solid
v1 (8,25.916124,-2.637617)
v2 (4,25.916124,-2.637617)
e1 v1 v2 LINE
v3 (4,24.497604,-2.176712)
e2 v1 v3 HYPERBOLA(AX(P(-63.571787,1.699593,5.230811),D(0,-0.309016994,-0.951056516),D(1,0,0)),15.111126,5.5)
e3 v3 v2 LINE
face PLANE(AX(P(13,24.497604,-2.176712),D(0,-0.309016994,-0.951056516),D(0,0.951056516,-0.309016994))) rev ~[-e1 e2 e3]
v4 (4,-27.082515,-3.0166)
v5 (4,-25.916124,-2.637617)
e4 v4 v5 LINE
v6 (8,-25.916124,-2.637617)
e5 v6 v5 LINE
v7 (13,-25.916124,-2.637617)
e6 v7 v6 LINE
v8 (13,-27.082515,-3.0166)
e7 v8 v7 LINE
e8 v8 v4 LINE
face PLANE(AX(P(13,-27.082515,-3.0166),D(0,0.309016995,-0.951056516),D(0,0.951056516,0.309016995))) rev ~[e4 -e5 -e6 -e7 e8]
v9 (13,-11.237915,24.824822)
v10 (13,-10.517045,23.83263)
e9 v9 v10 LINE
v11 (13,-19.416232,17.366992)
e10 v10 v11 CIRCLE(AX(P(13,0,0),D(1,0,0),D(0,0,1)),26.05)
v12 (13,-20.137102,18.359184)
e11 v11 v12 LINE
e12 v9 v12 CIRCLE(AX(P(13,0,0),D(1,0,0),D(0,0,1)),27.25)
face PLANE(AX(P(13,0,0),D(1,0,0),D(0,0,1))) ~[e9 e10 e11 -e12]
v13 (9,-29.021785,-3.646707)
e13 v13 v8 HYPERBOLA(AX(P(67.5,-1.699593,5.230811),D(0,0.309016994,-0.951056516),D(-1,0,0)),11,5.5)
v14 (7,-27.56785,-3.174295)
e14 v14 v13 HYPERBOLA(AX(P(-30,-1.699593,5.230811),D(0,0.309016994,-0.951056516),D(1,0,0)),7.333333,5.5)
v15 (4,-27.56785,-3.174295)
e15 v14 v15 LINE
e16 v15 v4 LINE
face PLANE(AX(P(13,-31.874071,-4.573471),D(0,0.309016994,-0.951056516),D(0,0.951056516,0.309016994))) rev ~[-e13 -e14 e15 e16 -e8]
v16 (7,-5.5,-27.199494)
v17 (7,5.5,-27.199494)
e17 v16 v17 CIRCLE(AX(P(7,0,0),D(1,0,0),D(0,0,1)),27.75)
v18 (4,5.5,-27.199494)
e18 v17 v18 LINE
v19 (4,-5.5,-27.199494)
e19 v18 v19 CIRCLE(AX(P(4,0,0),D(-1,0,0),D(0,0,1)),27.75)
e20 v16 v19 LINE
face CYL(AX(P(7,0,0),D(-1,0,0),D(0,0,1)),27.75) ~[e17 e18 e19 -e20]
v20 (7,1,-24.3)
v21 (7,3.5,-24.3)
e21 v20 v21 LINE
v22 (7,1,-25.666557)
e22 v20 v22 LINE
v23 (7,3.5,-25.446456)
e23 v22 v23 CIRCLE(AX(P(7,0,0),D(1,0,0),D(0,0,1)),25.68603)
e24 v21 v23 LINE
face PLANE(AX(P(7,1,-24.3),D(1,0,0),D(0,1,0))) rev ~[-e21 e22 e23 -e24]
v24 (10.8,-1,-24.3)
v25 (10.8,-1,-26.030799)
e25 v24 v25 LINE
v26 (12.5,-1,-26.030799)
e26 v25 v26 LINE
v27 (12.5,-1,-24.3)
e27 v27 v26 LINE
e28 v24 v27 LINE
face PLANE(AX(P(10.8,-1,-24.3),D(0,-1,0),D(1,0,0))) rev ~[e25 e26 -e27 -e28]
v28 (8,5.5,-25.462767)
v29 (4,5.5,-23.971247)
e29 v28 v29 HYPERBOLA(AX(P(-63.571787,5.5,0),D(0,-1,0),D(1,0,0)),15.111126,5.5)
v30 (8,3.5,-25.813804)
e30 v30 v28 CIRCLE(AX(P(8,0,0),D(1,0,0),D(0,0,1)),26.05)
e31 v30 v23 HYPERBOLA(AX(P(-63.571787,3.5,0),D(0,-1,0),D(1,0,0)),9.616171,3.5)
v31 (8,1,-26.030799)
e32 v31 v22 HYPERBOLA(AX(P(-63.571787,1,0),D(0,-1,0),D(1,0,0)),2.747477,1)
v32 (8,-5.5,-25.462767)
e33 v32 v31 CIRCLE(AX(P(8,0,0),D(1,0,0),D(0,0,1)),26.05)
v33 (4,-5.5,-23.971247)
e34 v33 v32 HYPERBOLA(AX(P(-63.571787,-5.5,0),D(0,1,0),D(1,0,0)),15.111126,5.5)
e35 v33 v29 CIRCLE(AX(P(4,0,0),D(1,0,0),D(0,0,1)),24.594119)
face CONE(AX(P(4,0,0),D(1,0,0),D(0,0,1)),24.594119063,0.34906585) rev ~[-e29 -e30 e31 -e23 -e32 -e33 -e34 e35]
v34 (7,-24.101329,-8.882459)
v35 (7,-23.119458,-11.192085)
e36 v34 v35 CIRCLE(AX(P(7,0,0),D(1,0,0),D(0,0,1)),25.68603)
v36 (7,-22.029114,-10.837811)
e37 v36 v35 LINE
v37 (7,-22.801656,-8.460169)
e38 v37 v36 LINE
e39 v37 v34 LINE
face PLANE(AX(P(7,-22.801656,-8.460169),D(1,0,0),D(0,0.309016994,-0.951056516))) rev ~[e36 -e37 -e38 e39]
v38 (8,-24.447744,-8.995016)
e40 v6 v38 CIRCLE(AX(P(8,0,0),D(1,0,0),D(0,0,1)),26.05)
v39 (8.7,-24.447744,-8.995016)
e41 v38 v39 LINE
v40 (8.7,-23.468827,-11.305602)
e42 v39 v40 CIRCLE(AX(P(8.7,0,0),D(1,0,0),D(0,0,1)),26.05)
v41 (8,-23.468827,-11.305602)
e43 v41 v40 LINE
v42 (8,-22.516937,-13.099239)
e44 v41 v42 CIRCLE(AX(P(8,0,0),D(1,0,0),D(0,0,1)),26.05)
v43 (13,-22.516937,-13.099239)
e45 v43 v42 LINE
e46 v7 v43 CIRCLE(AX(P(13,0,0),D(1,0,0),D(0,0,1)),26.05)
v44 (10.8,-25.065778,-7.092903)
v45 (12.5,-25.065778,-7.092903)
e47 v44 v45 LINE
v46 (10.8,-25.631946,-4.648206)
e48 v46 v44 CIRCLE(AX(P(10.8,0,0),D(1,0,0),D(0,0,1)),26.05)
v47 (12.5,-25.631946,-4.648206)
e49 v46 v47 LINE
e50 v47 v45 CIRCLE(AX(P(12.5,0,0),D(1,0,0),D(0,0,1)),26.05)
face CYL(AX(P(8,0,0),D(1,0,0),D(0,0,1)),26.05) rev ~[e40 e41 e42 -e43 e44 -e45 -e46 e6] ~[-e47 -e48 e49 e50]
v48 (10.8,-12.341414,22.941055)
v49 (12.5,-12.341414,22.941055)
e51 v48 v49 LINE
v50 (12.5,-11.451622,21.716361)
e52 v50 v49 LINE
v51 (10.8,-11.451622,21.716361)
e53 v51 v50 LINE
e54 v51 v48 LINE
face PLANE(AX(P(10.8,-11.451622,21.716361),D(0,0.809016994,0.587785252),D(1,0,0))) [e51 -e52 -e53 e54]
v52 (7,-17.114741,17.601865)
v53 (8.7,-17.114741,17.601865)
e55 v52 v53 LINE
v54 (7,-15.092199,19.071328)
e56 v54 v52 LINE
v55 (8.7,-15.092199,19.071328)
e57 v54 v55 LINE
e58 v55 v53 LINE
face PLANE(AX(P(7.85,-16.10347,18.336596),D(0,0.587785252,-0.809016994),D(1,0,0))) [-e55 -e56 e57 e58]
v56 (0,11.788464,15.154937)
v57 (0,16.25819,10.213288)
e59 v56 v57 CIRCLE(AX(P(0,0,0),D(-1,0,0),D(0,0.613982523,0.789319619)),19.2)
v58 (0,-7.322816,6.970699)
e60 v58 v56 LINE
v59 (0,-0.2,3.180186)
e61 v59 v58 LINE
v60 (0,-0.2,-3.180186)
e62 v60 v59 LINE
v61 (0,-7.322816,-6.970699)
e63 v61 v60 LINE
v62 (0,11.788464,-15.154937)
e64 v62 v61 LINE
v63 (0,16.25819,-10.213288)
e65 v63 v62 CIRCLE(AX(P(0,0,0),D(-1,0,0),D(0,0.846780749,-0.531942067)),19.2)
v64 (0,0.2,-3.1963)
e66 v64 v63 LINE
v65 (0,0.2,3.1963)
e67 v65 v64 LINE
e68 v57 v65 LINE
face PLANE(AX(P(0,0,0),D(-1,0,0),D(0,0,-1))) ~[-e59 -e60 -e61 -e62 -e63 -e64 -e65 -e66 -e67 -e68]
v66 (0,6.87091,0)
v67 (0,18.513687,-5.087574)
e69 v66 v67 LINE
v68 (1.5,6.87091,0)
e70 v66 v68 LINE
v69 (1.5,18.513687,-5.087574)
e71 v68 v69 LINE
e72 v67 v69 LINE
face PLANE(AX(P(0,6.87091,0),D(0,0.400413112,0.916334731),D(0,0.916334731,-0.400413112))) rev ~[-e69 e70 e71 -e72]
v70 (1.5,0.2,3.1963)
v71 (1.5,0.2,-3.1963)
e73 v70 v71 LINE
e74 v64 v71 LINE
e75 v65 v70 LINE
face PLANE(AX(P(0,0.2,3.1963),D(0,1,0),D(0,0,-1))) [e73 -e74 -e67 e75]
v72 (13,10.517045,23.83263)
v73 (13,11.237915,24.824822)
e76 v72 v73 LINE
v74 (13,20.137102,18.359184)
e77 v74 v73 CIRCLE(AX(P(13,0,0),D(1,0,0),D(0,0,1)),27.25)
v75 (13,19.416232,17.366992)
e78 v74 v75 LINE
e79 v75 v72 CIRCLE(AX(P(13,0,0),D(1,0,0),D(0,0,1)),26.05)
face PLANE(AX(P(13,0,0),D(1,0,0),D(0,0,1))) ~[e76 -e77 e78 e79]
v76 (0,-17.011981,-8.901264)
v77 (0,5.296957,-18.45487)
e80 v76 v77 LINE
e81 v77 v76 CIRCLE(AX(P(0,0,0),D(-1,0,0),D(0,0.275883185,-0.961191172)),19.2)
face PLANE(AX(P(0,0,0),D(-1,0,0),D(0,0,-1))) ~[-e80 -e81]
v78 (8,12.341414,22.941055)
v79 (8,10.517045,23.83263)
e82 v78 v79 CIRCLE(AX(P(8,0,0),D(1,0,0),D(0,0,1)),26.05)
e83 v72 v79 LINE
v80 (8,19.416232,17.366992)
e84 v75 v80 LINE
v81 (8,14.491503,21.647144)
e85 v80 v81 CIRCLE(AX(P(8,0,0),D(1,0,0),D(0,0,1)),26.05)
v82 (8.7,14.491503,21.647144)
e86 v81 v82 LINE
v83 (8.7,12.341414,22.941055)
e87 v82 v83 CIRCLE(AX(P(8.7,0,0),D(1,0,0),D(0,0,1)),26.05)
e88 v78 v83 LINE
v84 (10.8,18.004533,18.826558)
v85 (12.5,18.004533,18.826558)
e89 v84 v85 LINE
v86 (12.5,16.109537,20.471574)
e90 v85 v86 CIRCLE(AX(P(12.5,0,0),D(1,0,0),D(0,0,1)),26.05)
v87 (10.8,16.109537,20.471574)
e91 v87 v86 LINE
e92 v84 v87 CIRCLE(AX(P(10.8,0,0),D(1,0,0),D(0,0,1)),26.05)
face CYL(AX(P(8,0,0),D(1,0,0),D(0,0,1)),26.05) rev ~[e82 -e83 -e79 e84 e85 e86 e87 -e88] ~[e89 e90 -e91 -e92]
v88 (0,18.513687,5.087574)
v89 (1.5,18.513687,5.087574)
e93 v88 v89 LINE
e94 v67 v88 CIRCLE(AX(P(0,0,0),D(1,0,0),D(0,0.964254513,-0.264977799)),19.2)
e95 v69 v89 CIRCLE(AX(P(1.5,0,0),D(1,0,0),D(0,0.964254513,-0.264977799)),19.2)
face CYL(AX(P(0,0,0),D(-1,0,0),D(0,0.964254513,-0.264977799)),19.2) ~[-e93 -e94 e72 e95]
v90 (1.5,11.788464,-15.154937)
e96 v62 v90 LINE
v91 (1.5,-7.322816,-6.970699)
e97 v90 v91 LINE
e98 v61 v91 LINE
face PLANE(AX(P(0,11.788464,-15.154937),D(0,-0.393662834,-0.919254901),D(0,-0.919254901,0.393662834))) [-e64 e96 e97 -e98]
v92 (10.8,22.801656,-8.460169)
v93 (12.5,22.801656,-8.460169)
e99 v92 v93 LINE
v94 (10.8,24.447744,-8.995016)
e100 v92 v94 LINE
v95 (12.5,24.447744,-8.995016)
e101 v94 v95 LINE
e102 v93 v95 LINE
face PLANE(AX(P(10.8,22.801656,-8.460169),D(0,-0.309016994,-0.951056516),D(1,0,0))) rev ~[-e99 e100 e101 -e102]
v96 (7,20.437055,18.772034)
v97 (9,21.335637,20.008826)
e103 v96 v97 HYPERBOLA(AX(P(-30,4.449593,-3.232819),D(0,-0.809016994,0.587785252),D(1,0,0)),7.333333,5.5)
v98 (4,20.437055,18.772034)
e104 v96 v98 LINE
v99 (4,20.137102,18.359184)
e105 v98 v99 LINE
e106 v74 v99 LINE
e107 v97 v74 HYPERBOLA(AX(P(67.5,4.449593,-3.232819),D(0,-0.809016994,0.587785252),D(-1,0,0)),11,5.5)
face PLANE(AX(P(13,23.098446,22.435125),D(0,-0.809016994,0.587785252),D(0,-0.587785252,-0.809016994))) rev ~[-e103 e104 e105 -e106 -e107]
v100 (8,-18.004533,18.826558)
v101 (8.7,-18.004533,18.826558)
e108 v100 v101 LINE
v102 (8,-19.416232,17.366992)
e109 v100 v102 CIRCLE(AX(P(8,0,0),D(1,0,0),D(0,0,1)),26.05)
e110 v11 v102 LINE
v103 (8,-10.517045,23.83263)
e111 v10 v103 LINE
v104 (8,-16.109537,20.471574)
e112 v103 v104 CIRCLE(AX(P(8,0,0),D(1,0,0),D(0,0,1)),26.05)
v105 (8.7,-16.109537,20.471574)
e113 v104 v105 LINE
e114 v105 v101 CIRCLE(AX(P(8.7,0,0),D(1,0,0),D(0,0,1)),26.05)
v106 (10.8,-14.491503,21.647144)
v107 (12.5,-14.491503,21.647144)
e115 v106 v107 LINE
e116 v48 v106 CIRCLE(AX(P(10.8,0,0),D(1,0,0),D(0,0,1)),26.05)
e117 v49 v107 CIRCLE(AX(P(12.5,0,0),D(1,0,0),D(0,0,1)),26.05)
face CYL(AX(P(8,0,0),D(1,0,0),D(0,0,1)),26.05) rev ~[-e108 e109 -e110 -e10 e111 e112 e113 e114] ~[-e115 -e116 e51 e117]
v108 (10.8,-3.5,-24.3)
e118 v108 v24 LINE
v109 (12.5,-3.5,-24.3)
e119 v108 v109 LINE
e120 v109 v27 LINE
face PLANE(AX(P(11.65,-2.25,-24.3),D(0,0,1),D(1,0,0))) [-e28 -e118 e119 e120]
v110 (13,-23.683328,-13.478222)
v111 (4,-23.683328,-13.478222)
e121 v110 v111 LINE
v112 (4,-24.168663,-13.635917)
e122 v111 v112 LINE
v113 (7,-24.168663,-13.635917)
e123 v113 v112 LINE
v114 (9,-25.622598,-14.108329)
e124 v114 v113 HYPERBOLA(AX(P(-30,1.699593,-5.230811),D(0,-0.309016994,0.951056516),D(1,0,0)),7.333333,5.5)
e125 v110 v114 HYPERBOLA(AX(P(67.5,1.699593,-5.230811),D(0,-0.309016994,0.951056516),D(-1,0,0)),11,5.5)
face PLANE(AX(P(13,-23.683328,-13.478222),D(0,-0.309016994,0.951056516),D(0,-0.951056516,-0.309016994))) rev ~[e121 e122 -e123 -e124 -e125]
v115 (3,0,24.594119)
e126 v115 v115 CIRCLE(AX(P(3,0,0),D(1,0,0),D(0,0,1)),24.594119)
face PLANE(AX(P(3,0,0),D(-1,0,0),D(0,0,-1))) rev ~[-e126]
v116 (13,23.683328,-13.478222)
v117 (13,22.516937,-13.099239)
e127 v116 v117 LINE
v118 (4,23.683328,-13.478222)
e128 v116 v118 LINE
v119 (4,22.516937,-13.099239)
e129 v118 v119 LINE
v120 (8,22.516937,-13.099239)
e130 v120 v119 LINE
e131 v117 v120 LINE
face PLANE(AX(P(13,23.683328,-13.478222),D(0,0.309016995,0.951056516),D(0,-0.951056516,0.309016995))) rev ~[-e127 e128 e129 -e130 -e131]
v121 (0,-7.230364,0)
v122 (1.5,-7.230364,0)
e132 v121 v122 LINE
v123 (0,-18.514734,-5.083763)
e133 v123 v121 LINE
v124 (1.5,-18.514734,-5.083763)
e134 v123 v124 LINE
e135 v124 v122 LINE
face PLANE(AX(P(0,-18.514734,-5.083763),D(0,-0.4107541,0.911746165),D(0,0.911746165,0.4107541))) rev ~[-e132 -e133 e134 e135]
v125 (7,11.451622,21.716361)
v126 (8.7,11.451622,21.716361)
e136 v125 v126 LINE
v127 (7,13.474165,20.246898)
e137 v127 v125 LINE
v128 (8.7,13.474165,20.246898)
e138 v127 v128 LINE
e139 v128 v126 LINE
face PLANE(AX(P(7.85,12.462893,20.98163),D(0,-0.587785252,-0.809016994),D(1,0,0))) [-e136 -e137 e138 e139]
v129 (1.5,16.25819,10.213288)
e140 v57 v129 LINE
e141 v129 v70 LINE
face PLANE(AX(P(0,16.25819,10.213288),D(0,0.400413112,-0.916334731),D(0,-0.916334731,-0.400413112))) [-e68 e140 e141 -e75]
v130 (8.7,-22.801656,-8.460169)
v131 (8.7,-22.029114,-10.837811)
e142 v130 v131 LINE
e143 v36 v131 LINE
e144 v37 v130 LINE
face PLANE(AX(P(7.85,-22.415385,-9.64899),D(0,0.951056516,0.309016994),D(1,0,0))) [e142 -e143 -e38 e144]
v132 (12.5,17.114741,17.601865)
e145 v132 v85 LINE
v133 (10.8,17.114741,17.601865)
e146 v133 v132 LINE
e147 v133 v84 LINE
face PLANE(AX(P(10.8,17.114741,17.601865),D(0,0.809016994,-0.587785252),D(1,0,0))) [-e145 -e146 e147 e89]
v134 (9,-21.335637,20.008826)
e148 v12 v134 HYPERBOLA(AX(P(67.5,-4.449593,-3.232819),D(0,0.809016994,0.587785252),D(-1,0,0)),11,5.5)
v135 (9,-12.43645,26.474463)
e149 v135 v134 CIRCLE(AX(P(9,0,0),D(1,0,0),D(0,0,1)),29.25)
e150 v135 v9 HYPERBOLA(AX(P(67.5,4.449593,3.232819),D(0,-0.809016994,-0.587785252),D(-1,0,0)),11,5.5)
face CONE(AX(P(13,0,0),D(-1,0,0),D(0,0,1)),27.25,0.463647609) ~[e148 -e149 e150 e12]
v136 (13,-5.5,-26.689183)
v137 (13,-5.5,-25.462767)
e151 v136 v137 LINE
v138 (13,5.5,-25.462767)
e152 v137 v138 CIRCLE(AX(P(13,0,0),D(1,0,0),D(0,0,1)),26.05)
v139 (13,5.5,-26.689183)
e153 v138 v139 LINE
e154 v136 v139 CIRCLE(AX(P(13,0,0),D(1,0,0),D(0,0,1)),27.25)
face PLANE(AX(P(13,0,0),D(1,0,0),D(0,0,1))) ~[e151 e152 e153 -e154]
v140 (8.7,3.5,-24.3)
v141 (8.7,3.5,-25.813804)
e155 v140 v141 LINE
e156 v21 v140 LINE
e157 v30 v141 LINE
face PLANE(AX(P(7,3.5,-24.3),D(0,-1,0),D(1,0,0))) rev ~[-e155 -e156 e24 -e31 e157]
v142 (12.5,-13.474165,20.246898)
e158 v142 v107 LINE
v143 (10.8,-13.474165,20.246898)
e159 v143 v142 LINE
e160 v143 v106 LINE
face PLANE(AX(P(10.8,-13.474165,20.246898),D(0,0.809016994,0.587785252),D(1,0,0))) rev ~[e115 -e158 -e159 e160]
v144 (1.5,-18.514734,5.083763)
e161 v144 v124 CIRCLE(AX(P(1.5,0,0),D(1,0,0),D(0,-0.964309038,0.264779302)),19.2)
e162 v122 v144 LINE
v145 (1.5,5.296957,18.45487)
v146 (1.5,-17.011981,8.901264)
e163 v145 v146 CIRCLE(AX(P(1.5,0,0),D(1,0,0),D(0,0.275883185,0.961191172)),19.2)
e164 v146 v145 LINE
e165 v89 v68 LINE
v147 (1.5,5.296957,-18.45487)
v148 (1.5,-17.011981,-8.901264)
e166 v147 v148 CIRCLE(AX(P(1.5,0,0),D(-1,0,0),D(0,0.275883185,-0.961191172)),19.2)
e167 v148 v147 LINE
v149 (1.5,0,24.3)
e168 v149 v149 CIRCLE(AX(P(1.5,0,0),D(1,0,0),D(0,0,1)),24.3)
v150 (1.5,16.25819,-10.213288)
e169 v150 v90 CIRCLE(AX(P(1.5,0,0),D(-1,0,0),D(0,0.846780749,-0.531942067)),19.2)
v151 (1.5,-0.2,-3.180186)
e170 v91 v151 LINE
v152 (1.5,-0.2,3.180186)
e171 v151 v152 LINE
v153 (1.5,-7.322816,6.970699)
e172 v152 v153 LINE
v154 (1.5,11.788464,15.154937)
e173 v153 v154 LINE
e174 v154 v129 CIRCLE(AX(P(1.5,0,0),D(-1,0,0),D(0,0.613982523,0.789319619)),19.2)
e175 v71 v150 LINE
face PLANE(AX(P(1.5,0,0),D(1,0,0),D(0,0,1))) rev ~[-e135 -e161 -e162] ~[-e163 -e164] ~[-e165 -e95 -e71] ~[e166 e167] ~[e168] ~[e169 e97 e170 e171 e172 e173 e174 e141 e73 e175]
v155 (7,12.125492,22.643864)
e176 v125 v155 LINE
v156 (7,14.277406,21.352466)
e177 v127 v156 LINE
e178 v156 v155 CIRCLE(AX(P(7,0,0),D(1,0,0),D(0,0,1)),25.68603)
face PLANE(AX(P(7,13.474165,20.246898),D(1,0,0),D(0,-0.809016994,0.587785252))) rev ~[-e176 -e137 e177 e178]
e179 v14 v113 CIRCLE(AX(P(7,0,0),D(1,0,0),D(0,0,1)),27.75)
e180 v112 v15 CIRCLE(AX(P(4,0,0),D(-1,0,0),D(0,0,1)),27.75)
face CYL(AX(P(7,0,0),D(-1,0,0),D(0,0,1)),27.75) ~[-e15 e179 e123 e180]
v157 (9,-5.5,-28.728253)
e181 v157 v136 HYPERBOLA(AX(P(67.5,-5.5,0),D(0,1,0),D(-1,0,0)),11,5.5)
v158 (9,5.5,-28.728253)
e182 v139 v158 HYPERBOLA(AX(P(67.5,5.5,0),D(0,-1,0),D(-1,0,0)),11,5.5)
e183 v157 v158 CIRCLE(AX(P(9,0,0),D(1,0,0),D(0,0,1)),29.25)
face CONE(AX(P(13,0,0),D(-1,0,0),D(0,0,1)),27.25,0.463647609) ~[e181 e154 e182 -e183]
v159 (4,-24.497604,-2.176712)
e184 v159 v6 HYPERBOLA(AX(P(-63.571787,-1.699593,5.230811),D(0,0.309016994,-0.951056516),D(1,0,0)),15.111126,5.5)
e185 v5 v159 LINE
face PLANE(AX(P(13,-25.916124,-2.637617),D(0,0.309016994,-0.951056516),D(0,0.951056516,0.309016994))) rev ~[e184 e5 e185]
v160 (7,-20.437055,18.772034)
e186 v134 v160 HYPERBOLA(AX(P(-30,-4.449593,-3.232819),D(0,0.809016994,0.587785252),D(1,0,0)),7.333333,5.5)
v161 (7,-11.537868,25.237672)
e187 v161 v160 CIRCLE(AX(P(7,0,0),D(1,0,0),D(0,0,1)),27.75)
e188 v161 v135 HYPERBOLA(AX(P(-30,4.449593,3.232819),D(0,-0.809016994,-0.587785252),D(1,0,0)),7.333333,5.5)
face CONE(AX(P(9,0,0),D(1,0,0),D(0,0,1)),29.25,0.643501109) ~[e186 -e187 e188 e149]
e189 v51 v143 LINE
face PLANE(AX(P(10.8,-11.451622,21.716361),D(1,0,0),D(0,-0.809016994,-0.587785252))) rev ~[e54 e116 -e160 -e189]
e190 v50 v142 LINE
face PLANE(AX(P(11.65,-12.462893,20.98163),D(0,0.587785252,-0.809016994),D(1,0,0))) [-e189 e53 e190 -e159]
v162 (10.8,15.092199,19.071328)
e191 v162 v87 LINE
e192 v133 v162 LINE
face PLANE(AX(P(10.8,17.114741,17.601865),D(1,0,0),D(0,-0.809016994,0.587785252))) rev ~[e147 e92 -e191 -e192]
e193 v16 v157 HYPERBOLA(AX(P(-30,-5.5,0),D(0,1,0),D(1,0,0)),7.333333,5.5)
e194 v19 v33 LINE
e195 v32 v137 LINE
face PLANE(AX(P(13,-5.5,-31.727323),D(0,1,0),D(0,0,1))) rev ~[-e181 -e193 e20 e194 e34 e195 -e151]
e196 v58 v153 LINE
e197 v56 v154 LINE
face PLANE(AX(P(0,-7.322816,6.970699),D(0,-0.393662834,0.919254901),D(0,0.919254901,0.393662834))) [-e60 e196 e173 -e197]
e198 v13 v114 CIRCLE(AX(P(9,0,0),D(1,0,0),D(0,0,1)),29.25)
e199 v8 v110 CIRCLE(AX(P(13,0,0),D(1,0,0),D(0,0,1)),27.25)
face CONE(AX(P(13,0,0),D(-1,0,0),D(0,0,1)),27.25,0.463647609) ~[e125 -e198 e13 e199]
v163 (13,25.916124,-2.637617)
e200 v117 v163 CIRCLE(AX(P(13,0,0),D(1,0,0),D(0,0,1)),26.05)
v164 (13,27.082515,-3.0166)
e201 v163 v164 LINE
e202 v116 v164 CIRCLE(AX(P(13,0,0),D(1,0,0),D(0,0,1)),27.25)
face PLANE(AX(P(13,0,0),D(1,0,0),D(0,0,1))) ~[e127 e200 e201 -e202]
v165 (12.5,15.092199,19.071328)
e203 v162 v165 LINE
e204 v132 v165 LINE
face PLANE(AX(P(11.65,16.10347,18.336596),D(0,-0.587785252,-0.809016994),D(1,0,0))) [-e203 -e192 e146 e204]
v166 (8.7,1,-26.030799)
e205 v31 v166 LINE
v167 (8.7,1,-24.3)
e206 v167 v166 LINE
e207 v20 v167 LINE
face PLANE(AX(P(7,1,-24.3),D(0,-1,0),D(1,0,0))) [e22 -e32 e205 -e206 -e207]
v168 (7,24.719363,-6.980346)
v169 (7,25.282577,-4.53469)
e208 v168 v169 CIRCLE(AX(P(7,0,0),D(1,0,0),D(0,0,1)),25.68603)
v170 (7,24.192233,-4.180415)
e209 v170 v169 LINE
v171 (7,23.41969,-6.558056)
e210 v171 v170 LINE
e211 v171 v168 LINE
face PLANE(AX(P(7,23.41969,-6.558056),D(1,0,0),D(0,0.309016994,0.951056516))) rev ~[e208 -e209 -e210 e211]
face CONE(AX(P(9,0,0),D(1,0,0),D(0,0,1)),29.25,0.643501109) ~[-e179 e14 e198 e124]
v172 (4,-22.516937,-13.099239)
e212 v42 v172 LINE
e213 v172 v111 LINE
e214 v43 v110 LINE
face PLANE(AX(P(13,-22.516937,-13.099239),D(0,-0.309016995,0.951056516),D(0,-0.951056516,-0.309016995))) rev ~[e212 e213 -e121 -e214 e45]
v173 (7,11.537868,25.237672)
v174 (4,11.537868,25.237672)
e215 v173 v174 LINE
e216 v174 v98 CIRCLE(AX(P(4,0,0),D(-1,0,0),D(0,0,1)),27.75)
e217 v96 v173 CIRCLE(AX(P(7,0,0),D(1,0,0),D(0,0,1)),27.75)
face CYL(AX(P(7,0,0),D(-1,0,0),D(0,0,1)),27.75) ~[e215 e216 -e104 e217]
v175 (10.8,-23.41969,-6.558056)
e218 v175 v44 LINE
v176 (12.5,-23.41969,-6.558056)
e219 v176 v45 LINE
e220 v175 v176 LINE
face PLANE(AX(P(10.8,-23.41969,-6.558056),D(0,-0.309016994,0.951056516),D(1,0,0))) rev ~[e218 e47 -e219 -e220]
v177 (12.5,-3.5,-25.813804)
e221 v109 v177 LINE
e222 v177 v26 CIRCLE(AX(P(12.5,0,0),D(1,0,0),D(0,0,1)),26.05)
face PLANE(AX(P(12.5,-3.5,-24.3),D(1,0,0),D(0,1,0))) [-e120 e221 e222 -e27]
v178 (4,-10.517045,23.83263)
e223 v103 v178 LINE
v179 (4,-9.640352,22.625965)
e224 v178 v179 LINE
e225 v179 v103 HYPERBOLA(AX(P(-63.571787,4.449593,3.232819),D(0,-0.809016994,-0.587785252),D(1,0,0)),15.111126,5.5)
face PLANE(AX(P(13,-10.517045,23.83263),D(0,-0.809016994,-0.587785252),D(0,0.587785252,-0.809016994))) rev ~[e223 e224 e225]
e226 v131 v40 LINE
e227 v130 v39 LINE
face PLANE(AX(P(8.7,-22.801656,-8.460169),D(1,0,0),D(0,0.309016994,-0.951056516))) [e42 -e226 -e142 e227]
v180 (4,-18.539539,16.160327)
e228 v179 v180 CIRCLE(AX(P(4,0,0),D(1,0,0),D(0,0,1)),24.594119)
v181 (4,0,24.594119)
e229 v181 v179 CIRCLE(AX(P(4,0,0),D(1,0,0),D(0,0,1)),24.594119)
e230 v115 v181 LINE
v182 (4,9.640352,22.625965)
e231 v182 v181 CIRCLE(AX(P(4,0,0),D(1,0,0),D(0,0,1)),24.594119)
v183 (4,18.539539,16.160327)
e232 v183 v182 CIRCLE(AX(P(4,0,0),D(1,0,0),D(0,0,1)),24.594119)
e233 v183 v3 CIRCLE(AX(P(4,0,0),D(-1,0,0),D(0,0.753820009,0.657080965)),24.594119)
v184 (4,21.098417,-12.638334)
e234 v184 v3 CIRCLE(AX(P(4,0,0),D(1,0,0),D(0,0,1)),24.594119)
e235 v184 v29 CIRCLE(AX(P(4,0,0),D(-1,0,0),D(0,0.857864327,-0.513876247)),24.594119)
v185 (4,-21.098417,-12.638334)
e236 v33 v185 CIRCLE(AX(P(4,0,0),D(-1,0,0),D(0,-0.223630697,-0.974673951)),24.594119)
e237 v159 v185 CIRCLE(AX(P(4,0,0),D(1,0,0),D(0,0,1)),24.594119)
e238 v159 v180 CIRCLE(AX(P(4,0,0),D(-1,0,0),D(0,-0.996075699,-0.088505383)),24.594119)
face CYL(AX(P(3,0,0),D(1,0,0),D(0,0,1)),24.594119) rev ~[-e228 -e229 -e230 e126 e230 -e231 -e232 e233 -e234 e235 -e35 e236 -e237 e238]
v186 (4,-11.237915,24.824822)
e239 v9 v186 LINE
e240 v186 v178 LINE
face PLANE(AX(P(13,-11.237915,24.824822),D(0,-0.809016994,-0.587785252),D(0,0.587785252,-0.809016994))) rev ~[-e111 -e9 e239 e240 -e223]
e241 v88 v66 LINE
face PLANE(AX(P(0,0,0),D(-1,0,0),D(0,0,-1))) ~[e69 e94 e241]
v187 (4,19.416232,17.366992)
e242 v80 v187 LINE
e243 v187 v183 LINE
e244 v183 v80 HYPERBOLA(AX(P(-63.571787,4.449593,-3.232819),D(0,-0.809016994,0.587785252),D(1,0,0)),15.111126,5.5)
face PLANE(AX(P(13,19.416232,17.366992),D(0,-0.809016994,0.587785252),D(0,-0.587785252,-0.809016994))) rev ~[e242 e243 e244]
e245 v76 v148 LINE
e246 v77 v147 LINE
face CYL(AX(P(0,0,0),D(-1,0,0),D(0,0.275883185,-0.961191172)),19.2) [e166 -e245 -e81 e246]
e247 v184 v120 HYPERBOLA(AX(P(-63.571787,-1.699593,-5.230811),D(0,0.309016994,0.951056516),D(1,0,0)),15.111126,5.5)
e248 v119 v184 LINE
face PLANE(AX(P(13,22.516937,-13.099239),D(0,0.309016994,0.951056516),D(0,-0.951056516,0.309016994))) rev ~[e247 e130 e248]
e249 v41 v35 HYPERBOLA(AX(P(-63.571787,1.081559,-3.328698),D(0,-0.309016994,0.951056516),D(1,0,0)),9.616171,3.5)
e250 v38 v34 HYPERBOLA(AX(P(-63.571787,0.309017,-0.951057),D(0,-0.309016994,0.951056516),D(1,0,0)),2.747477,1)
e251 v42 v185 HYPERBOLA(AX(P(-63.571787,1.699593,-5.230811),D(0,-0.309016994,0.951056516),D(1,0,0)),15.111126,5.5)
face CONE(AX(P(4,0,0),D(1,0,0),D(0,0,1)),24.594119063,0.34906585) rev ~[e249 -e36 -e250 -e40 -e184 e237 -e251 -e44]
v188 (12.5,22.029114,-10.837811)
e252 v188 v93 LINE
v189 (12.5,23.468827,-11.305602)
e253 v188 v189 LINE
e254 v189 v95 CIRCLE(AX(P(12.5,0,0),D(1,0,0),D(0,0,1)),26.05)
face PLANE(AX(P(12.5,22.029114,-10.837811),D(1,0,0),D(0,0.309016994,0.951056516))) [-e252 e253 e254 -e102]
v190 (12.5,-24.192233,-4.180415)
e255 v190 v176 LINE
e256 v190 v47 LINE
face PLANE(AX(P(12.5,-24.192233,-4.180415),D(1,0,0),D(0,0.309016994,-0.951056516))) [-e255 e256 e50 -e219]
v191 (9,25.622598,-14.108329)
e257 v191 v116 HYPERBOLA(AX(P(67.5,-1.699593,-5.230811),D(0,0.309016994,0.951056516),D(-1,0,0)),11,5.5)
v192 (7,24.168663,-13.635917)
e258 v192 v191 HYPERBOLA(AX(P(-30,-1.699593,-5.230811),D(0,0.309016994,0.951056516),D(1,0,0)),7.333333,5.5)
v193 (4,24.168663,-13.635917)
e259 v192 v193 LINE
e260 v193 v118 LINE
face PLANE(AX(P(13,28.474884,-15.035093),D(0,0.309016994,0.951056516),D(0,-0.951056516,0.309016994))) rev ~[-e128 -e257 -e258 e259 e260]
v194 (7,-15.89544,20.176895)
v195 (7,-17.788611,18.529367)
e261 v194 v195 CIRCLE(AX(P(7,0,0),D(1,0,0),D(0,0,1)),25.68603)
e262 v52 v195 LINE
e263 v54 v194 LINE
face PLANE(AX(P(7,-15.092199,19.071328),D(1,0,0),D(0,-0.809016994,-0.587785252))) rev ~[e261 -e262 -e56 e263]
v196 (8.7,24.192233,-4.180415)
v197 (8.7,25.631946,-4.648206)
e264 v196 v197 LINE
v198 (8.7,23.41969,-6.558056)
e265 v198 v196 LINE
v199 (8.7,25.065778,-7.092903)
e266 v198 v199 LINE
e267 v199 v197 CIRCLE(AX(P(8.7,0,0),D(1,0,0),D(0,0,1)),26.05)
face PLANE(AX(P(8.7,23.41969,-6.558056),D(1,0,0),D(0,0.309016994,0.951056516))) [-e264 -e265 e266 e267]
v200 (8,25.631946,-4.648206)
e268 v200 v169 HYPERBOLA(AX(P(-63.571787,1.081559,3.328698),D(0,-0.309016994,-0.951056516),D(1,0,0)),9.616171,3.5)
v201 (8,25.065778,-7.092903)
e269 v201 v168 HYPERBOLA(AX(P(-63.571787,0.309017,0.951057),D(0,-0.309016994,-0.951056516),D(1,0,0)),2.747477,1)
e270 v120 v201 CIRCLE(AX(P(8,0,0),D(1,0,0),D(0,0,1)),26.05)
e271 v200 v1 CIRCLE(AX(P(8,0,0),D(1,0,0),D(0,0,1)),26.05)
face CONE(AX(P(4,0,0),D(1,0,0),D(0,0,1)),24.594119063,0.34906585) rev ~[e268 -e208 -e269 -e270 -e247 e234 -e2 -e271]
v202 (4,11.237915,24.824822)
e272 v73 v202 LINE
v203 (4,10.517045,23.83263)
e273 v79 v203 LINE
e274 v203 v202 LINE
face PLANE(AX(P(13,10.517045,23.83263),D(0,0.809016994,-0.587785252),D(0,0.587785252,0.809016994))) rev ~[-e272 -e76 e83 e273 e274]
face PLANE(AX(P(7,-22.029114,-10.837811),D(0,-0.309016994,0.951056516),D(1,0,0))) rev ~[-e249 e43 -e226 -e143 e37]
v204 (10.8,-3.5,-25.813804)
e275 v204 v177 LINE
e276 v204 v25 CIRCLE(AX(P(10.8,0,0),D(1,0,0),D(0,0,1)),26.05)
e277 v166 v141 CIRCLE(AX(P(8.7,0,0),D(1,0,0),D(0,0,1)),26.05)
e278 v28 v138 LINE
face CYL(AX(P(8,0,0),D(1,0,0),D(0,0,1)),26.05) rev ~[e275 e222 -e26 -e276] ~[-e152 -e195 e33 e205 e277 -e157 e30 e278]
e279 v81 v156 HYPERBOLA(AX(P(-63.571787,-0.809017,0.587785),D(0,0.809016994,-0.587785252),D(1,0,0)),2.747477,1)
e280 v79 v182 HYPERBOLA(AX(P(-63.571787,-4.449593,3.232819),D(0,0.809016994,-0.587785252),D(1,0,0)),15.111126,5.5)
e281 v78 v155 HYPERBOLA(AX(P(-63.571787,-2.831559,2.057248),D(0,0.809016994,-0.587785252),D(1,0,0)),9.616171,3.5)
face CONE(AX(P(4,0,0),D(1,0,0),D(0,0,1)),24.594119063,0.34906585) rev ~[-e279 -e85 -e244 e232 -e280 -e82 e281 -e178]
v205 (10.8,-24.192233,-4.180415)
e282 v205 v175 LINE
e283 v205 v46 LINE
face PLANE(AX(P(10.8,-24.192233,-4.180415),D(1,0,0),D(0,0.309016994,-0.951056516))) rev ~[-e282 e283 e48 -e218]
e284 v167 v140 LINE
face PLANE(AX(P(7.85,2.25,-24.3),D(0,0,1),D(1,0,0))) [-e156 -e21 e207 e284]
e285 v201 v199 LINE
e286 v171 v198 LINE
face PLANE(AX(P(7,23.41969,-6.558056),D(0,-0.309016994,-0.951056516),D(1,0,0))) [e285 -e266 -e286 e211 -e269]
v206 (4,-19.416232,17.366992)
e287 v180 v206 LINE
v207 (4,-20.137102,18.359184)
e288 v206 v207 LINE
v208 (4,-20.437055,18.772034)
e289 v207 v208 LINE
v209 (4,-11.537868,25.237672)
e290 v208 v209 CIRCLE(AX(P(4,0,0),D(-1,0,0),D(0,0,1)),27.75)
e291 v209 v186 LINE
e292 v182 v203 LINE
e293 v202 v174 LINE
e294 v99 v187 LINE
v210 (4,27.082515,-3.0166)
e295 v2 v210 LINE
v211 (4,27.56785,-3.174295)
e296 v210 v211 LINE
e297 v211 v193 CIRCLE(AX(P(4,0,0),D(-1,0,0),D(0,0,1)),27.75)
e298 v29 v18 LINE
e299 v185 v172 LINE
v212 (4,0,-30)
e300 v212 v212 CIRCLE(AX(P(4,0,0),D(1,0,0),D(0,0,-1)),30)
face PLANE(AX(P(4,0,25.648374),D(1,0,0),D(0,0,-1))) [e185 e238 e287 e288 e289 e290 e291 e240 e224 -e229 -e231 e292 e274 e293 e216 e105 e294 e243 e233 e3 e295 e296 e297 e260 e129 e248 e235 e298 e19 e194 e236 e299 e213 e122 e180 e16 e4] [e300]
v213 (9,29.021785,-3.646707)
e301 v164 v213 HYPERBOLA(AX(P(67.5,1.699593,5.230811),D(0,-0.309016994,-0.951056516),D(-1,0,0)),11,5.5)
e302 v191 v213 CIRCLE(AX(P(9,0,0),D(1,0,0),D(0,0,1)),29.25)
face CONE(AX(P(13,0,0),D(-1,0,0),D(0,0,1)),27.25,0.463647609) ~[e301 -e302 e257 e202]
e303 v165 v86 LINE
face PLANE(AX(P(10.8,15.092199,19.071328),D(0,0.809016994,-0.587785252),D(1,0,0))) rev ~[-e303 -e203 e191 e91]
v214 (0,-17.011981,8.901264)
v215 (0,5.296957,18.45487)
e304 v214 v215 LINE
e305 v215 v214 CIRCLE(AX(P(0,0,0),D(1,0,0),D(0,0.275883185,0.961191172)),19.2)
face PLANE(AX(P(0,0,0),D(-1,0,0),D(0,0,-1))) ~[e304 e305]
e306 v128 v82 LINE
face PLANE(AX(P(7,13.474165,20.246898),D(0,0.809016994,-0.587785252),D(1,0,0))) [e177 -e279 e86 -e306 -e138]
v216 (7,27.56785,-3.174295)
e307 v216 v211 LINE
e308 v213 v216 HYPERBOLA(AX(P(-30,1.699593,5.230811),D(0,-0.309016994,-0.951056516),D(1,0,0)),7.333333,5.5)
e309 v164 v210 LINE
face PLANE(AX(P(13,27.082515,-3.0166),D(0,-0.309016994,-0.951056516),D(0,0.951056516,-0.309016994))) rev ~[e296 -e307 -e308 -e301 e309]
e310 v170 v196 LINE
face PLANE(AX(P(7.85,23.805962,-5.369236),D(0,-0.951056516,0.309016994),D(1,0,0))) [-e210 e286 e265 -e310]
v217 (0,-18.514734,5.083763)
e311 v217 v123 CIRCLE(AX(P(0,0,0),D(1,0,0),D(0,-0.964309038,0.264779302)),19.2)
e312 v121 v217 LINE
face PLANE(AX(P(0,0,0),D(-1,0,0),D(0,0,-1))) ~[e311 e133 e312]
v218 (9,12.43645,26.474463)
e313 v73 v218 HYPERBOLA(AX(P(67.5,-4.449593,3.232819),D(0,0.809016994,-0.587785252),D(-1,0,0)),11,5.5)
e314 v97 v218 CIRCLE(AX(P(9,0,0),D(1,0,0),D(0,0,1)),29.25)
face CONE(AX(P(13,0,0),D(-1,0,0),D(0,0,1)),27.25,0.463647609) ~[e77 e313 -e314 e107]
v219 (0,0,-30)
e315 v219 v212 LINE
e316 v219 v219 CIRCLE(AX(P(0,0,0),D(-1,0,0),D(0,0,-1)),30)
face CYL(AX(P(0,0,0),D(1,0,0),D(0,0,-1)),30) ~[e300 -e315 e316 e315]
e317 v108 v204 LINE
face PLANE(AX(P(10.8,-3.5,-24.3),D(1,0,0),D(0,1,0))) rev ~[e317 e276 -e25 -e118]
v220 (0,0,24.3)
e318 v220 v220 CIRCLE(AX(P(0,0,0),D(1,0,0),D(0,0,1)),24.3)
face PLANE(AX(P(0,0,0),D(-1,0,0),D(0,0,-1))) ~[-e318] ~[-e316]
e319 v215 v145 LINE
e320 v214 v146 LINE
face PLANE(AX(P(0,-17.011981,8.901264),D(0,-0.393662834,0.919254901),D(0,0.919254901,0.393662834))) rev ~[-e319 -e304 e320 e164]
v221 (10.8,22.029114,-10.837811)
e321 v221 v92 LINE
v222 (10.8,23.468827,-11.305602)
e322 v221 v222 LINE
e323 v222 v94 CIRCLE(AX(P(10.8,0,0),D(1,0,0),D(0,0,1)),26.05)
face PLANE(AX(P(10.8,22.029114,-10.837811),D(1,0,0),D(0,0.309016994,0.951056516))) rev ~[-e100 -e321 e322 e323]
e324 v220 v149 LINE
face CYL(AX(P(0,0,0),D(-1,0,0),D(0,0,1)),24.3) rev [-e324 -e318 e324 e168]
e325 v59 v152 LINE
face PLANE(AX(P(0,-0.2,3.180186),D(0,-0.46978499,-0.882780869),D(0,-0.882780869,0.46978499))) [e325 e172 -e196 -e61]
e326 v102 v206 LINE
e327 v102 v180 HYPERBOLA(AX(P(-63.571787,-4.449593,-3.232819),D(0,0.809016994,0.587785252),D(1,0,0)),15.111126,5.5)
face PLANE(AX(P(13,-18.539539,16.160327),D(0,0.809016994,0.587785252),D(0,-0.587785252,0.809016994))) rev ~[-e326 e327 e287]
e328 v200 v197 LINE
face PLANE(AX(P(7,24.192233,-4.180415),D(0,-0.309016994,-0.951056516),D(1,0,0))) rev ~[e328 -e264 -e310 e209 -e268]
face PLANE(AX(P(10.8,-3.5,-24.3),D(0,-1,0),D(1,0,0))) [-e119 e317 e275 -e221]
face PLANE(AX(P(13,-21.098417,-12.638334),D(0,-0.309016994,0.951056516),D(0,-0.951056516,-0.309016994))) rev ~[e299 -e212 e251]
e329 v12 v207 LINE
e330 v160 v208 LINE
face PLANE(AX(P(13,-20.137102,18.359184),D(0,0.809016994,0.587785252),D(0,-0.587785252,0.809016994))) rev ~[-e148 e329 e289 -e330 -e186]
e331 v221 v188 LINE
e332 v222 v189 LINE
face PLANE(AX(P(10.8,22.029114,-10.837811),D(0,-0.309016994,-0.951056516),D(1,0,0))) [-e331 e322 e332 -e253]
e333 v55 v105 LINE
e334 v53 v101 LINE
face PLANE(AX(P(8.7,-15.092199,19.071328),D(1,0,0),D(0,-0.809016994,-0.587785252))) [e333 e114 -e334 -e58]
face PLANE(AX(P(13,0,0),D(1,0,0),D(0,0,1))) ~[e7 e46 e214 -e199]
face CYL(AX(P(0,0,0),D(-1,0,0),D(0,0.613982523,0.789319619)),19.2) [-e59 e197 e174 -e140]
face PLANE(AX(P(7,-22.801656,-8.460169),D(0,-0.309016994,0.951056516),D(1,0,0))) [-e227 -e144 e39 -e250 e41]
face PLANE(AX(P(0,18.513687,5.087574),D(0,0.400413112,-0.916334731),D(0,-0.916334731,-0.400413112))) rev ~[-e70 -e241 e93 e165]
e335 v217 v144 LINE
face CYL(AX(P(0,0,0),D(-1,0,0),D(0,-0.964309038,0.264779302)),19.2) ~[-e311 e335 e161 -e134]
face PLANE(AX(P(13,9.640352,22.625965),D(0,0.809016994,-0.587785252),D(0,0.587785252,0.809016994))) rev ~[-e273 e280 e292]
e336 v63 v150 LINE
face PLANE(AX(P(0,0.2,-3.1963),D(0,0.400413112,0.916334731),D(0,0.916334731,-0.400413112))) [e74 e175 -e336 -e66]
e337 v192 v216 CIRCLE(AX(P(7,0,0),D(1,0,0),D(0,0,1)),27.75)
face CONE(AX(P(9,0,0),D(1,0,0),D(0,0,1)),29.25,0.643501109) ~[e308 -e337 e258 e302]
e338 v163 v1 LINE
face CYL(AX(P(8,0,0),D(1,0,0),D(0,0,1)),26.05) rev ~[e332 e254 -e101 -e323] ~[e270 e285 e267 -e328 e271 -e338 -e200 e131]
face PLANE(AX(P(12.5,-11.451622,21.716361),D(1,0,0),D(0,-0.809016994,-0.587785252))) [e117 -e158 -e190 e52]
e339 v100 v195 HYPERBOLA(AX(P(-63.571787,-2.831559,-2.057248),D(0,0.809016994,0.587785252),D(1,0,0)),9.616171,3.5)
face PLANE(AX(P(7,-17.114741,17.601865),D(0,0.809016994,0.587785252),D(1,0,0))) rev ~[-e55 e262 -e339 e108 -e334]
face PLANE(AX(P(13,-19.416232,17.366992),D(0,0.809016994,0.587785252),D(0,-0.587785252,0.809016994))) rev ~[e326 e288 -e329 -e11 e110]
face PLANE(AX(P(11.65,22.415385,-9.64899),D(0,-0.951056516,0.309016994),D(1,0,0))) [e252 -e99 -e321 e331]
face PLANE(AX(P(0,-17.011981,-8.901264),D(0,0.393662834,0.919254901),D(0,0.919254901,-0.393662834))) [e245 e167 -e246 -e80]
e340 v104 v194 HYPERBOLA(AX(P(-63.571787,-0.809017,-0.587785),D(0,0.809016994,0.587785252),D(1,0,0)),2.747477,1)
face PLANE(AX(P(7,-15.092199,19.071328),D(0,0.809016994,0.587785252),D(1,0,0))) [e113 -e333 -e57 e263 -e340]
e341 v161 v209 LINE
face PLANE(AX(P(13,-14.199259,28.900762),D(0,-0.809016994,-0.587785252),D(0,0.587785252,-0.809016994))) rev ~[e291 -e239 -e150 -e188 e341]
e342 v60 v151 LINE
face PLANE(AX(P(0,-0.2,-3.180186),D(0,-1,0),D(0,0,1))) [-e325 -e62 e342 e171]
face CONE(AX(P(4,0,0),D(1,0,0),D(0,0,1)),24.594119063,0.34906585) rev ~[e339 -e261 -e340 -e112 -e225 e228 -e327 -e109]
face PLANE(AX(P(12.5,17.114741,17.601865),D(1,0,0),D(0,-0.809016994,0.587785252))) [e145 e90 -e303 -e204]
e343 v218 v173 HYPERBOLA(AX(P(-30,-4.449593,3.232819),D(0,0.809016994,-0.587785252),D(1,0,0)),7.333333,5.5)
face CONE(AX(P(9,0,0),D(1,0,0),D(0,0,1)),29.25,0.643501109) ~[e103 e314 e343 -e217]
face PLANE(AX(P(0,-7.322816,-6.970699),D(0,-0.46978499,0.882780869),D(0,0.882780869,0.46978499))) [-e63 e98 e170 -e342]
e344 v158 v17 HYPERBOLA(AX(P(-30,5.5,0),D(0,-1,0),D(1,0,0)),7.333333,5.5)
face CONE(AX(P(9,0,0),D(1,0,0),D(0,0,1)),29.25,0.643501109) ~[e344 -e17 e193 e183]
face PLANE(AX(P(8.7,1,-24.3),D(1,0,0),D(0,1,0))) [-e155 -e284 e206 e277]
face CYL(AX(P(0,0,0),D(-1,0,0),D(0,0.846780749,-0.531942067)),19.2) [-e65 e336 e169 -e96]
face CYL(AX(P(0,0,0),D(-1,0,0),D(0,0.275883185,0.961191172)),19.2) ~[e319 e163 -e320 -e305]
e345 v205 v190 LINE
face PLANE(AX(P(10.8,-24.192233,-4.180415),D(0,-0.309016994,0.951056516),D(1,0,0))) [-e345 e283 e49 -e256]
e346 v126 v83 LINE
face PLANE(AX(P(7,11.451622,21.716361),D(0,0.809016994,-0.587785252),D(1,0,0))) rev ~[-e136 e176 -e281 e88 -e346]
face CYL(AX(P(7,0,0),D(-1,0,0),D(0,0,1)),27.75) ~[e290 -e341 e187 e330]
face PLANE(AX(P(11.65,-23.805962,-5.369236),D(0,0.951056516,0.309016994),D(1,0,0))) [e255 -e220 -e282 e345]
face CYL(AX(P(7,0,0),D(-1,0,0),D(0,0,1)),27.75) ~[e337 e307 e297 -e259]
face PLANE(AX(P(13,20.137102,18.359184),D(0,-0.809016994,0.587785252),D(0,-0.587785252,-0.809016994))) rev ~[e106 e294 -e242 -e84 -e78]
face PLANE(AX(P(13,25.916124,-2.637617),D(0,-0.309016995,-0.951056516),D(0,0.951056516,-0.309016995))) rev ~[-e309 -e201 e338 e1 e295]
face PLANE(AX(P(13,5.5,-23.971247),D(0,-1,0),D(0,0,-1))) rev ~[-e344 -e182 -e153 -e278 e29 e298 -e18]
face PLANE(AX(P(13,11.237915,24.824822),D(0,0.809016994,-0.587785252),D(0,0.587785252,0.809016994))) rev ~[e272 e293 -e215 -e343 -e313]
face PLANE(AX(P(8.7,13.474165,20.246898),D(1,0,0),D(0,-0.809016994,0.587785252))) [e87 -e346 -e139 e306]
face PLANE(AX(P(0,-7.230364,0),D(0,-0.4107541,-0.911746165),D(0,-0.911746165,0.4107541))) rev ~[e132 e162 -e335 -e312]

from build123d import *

# Parameters (mm, degrees)
CUT_EXTRUDE_1_DEPTH      = 9
SKETCH_4_W               = 1.7
SKETCH_4_H               = 2.5
EXTRUDE_1_DEPTH          = 2
PATTERN_CIRCULAR_1_COUNT = 5
SKETCH_5_R               = 24.3
CUT_EXTRUDE_2_DEPTH      = 1.5


with BuildPart() as part:
    # Эскиз1 → Повернуть1 (revolve)
    with BuildSketch(Plane.XY, mode=Mode.PRIVATE) as revolve_1_sk:
        Polygon((0, 30), (4, 30), (4, 26), (3, 26), (3, 0), (0, 0), align=None)
    revolve(revolve_1_sk.sketch.rotate(Axis((0, 0, 0), (-1, 0, 0)), 90), axis=Axis((0, 0, 0), (-1, 0, 0)))

    # Эскиз2 → Повернуть2 (revolve)
    with BuildSketch(Plane.XY, mode=Mode.PRIVATE) as revolve_2_sk:
        Polygon((4, 24.594119063), (8, 26.05), (13, 26.05), (13, 27.25), (9, 29.25), (7, 27.75), (3, 27.75), (3, 24.594119063), align=None)
    revolve(revolve_2_sk.sketch.rotate(Axis((0, 0, 0), (1, 0, 0)), 90), axis=Axis((0, 0, 0), (1, 0, 0)))

    # Эскиз3 → Вырез-Вытянуть1 (cut)
    with BuildSketch(Plane(origin=(13, 0, 0), x_dir=(0, 0, -1), z_dir=(1, 0, 0))):
        with BuildLine():
            ThreePointArc((13.478222015, -23.68332813), (22.045713097, -16.017148125), (26.689183202, -5.5))
            Line((26.689183202, -5.5), (25.462766935, -5.5))
            ThreePointArc((25.462766935, -5.5), (21.074892703, -15.311805822), (13.099238546, -22.516936948))
            Line((13.099238546, -22.516936948), (13.478222015, -23.68332813))
        make_face()
        with BuildLine():
            ThreePointArc((13.099238546, -22.516936948), (21.074892703, -15.311805822), (25.462766935, -5.5))
            Line((25.462766935, -5.5), (23.971247203, -5.5))
            ThreePointArc((23.971247203, -5.5), (19.897060284, -14.456060478), (12.638333602, -21.098417387))
            Line((12.638333602, -21.098417387), (13.099238546, -22.516936948))
        make_face()
        with BuildLine():
            ThreePointArc((-18.359183889, -20.137101751), (-8.420713097, -25.916290069), (3.016600336, -27.082515068))
            Line((3.016600336, -27.082515068), (2.637616867, -25.916123886))
            ThreePointArc((2.637616867, -25.916123886), (-8.049892703, -24.775022249), (-17.366992287, -19.416232356))
            Line((-17.366992287, -19.416232356), (-18.359183889, -20.137101751))
        make_face()
        with BuildLine():
            ThreePointArc((-17.366992287, -19.416232356), (-8.049892703, -24.775022249), (2.637616867, -25.916123886))
            Line((2.637616867, -25.916123886), (2.176711923, -24.497604325))
            ThreePointArc((2.176711923, -24.497604325), (-7.600000752, -23.390397197), (-16.160327476, -18.539539054))
            Line((-16.160327476, -18.539539054), (-17.366992287, -19.416232356))
        make_face()
        with BuildLine():
            Line((-23.832630062, 10.517045418), (-24.824821664, 11.237914813))
            ThreePointArc((-24.824821664, 11.237914813), (-27.25, 0), (-24.824821664, -11.237914813))
            Line((-24.824821664, -11.237914813), (-23.832630062, -10.517045418))
            ThreePointArc((-23.832630062, -10.517045418), (-26.05, 0), (-23.832630062, 10.517045418))
        make_face()
        with BuildLine():
            Line((-22.625965251, 9.640352116), (-23.832630062, 10.517045418))
            ThreePointArc((-23.832630062, 10.517045418), (-26.05, 0), (-23.832630062, -10.517045418))
            Line((-23.832630062, -10.517045418), (-22.625965251, -9.640352116))
            ThreePointArc((-22.625965251, -9.640352116), (-24.594119063, 0), (-22.625965251, 9.640352116))
        make_face()
        with BuildLine():
            Line((2.637616867, 25.916123886), (3.016600336, 27.082515068))
            ThreePointArc((3.016600336, 27.082515068), (-8.420713097, 25.916290069), (-18.359183889, 20.137101751))
            Line((-18.359183889, 20.137101751), (-17.366992287, 19.416232356))
            ThreePointArc((-17.366992287, 19.416232356), (-8.049892703, 24.775022249), (2.637616867, 25.916123886))
        make_face()
        with BuildLine():
            Line((2.176711923, 24.497604325), (2.637616867, 25.916123886))
            ThreePointArc((2.637616867, 25.916123886), (-8.049892703, 24.775022249), (-17.366992287, 19.416232356))
            Line((-17.366992287, 19.416232356), (-16.160327476, 18.539539054))
            ThreePointArc((-16.160327476, 18.539539054), (-7.600000752, 23.390397197), (2.176711923, 24.497604325))
        make_face()
        with BuildLine():
            Line((25.462766935, 5.5), (26.689183202, 5.5))
            ThreePointArc((26.689183202, 5.5), (22.045713097, 16.017148125), (13.478222015, 23.68332813))
            Line((13.478222015, 23.68332813), (13.099238546, 22.516936948))
            ThreePointArc((13.099238546, 22.516936948), (21.074892703, 15.311805822), (25.462766935, 5.5))
        make_face()
        with BuildLine():
            Line((23.971247203, 5.5), (25.462766935, 5.5))
            ThreePointArc((25.462766935, 5.5), (21.074892703, 15.311805822), (13.099238546, 22.516936948))
            Line((13.099238546, 22.516936948), (12.638333602, 21.098417387))
            ThreePointArc((12.638333602, 21.098417387), (19.897060284, 14.456060478), (23.971247203, 5.5))
        make_face()
        with BuildLine():
            Line((3.016600336, 27.082515068), (4.573471173, 31.874070813))
            ThreePointArc((4.573471173, 31.874070813), (-9.950505703, 30.624507588), (-22.435124657, 23.09844606))
            Line((-22.435124657, 23.09844606), (-18.359183889, 20.137101751))
            ThreePointArc((-18.359183889, 20.137101751), (-8.420713097, 25.916290069), (3.016600336, 27.082515068))
        make_face()
        with BuildLine():
            Line((-24.824821664, 11.237914813), (-28.900762432, 14.199259122))
            ThreePointArc((-28.900762432, 14.199259122), (-32.200512865, 0), (-28.900762432, -14.199259122))
            Line((-28.900762432, -14.199259122), (-24.824821664, -11.237914813))
            ThreePointArc((-24.824821664, -11.237914813), (-27.25, 0), (-24.824821664, 11.237914813))
        make_face()
        with BuildLine():
            ThreePointArc((-22.435124657, -23.09844606), (-9.950505703, -30.624507588), (4.573471173, -31.874070813))
            Line((4.573471173, -31.874070813), (3.016600336, -27.082515068))
            ThreePointArc((3.016600336, -27.082515068), (-8.420713097, -25.916290069), (-18.359183889, -20.137101751))
            Line((-18.359183889, -20.137101751), (-22.435124657, -23.09844606))
        make_face()
        with BuildLine():
            ThreePointArc((15.035092852, -28.474883875), (26.050762135, -18.926986578), (31.727323063, -5.5))
            Line((31.727323063, -5.5), (26.689183202, -5.5))
            ThreePointArc((26.689183202, -5.5), (22.045713097, -16.017148125), (13.478222015, -23.68332813))
            Line((13.478222015, -23.68332813), (15.035092852, -28.474883875))
        make_face()
        with BuildLine():
            Line((26.689183202, 5.5), (31.727323063, 5.5))
            ThreePointArc((31.727323063, 5.5), (26.050762135, 18.926986578), (15.035092852, 28.474883875))
            Line((15.035092852, 28.474883875), (13.478222015, 23.68332813))
            ThreePointArc((13.478222015, 23.68332813), (22.045713097, 16.017148125), (26.689183202, 5.5))
        make_face()
    extrude(amount=-CUT_EXTRUDE_1_DEPTH, mode=Mode.SUBTRACT)

    # Эскиз4 → Бобышка-Вытянуть1 (add)
    with BuildSketch(Plane.XY.offset(-24.3)):
        with Locations((11.65, -2.25)):
            Rectangle(SKETCH_4_W, SKETCH_4_H)
        with Locations((7.85, 2.25)):
            Rectangle(SKETCH_4_W, SKETCH_4_H)
    extrude_1 = extrude(amount=-EXTRUDE_1_DEPTH)

    # Круговой массив1: Бобышка-Вытянуть1 ×5 about axis
    pattern_circular_1_axis = Axis((0, 0, 0), (1, 0, 0))
    for i in range(1, PATTERN_CIRCULAR_1_COUNT):
        add(extrude_1.rotate(pattern_circular_1_axis, i * 360 / PATTERN_CIRCULAR_1_COUNT))

    # Эскиз5 → Вырез-Вытянуть2 (cut)
    with BuildSketch(Plane(origin=(0, 0, 0), x_dir=(0, 0, -1), z_dir=(1, 0, 0))):
        with Locations(Location((0, 0, 0), (0, 0, 180))):
            Circle(SKETCH_5_R)
        with BuildLine():
            Line((-5.087573742, 18.513686651), (0, 6.870909772))
            Line((0, 6.870909772), (5.087573742, 18.513686651))
            ThreePointArc((5.087573742, 18.513686651), (0, 19.2), (-5.087573742, 18.513686651))
        make_face(mode=Mode.SUBTRACT)
        with BuildLine():
            Line((-10.213287696, 16.25819038), (-3.196299518, 0.2))
            Line((-3.196299518, 0.2), (3.196299518, 0.2))
            Line((3.196299518, 0.2), (10.213287696, 16.25819038))
            ThreePointArc((10.213287696, 16.25819038), (12.879492014, 14.239335851), (15.154936685, 11.788464449))
            Line((15.154936685, 11.788464449), (6.970698587, -7.322816425))
            Line((6.970698587, -7.322816425), (3.180185716, -0.2))
            Line((3.180185716, -0.2), (-3.180185716, -0.2))
            Line((-3.180185716, -0.2), (-6.970698587, -7.322816425))
            Line((-6.970698587, -7.322816425), (-15.154936685, 11.788464449))
            ThreePointArc((-15.154936685, 11.788464449), (-12.879492014, 14.239335851), (-10.213287696, 16.25819038))
        make_face(mode=Mode.SUBTRACT)
        with BuildLine():
            Line((-8.901263668, -17.011981223), (-18.454870493, 5.296957155))
            ThreePointArc((-18.454870493, 5.296957155), (-17.649694103, -7.558326406), (-8.901263668, -17.011981223))
        make_face(mode=Mode.SUBTRACT)
        with BuildLine():
            Line((0, -7.230363982), (-5.083762601, -18.514733534))
            ThreePointArc((-5.083762601, -18.514733534), (0, -19.2), (5.083762601, -18.514733534))
            Line((5.083762601, -18.514733534), (0, -7.230363982))
        make_face(mode=Mode.SUBTRACT)
        with BuildLine():
            Line((8.901263668, -17.011981223), (18.454870493, 5.296957155))
            ThreePointArc((18.454870493, 5.296957155), (17.649694103, -7.558326406), (8.901263668, -17.011981223))
        make_face(mode=Mode.SUBTRACT)
    extrude(amount=CUT_EXTRUDE_2_DEPTH, mode=Mode.SUBTRACT)


solid = part.part
